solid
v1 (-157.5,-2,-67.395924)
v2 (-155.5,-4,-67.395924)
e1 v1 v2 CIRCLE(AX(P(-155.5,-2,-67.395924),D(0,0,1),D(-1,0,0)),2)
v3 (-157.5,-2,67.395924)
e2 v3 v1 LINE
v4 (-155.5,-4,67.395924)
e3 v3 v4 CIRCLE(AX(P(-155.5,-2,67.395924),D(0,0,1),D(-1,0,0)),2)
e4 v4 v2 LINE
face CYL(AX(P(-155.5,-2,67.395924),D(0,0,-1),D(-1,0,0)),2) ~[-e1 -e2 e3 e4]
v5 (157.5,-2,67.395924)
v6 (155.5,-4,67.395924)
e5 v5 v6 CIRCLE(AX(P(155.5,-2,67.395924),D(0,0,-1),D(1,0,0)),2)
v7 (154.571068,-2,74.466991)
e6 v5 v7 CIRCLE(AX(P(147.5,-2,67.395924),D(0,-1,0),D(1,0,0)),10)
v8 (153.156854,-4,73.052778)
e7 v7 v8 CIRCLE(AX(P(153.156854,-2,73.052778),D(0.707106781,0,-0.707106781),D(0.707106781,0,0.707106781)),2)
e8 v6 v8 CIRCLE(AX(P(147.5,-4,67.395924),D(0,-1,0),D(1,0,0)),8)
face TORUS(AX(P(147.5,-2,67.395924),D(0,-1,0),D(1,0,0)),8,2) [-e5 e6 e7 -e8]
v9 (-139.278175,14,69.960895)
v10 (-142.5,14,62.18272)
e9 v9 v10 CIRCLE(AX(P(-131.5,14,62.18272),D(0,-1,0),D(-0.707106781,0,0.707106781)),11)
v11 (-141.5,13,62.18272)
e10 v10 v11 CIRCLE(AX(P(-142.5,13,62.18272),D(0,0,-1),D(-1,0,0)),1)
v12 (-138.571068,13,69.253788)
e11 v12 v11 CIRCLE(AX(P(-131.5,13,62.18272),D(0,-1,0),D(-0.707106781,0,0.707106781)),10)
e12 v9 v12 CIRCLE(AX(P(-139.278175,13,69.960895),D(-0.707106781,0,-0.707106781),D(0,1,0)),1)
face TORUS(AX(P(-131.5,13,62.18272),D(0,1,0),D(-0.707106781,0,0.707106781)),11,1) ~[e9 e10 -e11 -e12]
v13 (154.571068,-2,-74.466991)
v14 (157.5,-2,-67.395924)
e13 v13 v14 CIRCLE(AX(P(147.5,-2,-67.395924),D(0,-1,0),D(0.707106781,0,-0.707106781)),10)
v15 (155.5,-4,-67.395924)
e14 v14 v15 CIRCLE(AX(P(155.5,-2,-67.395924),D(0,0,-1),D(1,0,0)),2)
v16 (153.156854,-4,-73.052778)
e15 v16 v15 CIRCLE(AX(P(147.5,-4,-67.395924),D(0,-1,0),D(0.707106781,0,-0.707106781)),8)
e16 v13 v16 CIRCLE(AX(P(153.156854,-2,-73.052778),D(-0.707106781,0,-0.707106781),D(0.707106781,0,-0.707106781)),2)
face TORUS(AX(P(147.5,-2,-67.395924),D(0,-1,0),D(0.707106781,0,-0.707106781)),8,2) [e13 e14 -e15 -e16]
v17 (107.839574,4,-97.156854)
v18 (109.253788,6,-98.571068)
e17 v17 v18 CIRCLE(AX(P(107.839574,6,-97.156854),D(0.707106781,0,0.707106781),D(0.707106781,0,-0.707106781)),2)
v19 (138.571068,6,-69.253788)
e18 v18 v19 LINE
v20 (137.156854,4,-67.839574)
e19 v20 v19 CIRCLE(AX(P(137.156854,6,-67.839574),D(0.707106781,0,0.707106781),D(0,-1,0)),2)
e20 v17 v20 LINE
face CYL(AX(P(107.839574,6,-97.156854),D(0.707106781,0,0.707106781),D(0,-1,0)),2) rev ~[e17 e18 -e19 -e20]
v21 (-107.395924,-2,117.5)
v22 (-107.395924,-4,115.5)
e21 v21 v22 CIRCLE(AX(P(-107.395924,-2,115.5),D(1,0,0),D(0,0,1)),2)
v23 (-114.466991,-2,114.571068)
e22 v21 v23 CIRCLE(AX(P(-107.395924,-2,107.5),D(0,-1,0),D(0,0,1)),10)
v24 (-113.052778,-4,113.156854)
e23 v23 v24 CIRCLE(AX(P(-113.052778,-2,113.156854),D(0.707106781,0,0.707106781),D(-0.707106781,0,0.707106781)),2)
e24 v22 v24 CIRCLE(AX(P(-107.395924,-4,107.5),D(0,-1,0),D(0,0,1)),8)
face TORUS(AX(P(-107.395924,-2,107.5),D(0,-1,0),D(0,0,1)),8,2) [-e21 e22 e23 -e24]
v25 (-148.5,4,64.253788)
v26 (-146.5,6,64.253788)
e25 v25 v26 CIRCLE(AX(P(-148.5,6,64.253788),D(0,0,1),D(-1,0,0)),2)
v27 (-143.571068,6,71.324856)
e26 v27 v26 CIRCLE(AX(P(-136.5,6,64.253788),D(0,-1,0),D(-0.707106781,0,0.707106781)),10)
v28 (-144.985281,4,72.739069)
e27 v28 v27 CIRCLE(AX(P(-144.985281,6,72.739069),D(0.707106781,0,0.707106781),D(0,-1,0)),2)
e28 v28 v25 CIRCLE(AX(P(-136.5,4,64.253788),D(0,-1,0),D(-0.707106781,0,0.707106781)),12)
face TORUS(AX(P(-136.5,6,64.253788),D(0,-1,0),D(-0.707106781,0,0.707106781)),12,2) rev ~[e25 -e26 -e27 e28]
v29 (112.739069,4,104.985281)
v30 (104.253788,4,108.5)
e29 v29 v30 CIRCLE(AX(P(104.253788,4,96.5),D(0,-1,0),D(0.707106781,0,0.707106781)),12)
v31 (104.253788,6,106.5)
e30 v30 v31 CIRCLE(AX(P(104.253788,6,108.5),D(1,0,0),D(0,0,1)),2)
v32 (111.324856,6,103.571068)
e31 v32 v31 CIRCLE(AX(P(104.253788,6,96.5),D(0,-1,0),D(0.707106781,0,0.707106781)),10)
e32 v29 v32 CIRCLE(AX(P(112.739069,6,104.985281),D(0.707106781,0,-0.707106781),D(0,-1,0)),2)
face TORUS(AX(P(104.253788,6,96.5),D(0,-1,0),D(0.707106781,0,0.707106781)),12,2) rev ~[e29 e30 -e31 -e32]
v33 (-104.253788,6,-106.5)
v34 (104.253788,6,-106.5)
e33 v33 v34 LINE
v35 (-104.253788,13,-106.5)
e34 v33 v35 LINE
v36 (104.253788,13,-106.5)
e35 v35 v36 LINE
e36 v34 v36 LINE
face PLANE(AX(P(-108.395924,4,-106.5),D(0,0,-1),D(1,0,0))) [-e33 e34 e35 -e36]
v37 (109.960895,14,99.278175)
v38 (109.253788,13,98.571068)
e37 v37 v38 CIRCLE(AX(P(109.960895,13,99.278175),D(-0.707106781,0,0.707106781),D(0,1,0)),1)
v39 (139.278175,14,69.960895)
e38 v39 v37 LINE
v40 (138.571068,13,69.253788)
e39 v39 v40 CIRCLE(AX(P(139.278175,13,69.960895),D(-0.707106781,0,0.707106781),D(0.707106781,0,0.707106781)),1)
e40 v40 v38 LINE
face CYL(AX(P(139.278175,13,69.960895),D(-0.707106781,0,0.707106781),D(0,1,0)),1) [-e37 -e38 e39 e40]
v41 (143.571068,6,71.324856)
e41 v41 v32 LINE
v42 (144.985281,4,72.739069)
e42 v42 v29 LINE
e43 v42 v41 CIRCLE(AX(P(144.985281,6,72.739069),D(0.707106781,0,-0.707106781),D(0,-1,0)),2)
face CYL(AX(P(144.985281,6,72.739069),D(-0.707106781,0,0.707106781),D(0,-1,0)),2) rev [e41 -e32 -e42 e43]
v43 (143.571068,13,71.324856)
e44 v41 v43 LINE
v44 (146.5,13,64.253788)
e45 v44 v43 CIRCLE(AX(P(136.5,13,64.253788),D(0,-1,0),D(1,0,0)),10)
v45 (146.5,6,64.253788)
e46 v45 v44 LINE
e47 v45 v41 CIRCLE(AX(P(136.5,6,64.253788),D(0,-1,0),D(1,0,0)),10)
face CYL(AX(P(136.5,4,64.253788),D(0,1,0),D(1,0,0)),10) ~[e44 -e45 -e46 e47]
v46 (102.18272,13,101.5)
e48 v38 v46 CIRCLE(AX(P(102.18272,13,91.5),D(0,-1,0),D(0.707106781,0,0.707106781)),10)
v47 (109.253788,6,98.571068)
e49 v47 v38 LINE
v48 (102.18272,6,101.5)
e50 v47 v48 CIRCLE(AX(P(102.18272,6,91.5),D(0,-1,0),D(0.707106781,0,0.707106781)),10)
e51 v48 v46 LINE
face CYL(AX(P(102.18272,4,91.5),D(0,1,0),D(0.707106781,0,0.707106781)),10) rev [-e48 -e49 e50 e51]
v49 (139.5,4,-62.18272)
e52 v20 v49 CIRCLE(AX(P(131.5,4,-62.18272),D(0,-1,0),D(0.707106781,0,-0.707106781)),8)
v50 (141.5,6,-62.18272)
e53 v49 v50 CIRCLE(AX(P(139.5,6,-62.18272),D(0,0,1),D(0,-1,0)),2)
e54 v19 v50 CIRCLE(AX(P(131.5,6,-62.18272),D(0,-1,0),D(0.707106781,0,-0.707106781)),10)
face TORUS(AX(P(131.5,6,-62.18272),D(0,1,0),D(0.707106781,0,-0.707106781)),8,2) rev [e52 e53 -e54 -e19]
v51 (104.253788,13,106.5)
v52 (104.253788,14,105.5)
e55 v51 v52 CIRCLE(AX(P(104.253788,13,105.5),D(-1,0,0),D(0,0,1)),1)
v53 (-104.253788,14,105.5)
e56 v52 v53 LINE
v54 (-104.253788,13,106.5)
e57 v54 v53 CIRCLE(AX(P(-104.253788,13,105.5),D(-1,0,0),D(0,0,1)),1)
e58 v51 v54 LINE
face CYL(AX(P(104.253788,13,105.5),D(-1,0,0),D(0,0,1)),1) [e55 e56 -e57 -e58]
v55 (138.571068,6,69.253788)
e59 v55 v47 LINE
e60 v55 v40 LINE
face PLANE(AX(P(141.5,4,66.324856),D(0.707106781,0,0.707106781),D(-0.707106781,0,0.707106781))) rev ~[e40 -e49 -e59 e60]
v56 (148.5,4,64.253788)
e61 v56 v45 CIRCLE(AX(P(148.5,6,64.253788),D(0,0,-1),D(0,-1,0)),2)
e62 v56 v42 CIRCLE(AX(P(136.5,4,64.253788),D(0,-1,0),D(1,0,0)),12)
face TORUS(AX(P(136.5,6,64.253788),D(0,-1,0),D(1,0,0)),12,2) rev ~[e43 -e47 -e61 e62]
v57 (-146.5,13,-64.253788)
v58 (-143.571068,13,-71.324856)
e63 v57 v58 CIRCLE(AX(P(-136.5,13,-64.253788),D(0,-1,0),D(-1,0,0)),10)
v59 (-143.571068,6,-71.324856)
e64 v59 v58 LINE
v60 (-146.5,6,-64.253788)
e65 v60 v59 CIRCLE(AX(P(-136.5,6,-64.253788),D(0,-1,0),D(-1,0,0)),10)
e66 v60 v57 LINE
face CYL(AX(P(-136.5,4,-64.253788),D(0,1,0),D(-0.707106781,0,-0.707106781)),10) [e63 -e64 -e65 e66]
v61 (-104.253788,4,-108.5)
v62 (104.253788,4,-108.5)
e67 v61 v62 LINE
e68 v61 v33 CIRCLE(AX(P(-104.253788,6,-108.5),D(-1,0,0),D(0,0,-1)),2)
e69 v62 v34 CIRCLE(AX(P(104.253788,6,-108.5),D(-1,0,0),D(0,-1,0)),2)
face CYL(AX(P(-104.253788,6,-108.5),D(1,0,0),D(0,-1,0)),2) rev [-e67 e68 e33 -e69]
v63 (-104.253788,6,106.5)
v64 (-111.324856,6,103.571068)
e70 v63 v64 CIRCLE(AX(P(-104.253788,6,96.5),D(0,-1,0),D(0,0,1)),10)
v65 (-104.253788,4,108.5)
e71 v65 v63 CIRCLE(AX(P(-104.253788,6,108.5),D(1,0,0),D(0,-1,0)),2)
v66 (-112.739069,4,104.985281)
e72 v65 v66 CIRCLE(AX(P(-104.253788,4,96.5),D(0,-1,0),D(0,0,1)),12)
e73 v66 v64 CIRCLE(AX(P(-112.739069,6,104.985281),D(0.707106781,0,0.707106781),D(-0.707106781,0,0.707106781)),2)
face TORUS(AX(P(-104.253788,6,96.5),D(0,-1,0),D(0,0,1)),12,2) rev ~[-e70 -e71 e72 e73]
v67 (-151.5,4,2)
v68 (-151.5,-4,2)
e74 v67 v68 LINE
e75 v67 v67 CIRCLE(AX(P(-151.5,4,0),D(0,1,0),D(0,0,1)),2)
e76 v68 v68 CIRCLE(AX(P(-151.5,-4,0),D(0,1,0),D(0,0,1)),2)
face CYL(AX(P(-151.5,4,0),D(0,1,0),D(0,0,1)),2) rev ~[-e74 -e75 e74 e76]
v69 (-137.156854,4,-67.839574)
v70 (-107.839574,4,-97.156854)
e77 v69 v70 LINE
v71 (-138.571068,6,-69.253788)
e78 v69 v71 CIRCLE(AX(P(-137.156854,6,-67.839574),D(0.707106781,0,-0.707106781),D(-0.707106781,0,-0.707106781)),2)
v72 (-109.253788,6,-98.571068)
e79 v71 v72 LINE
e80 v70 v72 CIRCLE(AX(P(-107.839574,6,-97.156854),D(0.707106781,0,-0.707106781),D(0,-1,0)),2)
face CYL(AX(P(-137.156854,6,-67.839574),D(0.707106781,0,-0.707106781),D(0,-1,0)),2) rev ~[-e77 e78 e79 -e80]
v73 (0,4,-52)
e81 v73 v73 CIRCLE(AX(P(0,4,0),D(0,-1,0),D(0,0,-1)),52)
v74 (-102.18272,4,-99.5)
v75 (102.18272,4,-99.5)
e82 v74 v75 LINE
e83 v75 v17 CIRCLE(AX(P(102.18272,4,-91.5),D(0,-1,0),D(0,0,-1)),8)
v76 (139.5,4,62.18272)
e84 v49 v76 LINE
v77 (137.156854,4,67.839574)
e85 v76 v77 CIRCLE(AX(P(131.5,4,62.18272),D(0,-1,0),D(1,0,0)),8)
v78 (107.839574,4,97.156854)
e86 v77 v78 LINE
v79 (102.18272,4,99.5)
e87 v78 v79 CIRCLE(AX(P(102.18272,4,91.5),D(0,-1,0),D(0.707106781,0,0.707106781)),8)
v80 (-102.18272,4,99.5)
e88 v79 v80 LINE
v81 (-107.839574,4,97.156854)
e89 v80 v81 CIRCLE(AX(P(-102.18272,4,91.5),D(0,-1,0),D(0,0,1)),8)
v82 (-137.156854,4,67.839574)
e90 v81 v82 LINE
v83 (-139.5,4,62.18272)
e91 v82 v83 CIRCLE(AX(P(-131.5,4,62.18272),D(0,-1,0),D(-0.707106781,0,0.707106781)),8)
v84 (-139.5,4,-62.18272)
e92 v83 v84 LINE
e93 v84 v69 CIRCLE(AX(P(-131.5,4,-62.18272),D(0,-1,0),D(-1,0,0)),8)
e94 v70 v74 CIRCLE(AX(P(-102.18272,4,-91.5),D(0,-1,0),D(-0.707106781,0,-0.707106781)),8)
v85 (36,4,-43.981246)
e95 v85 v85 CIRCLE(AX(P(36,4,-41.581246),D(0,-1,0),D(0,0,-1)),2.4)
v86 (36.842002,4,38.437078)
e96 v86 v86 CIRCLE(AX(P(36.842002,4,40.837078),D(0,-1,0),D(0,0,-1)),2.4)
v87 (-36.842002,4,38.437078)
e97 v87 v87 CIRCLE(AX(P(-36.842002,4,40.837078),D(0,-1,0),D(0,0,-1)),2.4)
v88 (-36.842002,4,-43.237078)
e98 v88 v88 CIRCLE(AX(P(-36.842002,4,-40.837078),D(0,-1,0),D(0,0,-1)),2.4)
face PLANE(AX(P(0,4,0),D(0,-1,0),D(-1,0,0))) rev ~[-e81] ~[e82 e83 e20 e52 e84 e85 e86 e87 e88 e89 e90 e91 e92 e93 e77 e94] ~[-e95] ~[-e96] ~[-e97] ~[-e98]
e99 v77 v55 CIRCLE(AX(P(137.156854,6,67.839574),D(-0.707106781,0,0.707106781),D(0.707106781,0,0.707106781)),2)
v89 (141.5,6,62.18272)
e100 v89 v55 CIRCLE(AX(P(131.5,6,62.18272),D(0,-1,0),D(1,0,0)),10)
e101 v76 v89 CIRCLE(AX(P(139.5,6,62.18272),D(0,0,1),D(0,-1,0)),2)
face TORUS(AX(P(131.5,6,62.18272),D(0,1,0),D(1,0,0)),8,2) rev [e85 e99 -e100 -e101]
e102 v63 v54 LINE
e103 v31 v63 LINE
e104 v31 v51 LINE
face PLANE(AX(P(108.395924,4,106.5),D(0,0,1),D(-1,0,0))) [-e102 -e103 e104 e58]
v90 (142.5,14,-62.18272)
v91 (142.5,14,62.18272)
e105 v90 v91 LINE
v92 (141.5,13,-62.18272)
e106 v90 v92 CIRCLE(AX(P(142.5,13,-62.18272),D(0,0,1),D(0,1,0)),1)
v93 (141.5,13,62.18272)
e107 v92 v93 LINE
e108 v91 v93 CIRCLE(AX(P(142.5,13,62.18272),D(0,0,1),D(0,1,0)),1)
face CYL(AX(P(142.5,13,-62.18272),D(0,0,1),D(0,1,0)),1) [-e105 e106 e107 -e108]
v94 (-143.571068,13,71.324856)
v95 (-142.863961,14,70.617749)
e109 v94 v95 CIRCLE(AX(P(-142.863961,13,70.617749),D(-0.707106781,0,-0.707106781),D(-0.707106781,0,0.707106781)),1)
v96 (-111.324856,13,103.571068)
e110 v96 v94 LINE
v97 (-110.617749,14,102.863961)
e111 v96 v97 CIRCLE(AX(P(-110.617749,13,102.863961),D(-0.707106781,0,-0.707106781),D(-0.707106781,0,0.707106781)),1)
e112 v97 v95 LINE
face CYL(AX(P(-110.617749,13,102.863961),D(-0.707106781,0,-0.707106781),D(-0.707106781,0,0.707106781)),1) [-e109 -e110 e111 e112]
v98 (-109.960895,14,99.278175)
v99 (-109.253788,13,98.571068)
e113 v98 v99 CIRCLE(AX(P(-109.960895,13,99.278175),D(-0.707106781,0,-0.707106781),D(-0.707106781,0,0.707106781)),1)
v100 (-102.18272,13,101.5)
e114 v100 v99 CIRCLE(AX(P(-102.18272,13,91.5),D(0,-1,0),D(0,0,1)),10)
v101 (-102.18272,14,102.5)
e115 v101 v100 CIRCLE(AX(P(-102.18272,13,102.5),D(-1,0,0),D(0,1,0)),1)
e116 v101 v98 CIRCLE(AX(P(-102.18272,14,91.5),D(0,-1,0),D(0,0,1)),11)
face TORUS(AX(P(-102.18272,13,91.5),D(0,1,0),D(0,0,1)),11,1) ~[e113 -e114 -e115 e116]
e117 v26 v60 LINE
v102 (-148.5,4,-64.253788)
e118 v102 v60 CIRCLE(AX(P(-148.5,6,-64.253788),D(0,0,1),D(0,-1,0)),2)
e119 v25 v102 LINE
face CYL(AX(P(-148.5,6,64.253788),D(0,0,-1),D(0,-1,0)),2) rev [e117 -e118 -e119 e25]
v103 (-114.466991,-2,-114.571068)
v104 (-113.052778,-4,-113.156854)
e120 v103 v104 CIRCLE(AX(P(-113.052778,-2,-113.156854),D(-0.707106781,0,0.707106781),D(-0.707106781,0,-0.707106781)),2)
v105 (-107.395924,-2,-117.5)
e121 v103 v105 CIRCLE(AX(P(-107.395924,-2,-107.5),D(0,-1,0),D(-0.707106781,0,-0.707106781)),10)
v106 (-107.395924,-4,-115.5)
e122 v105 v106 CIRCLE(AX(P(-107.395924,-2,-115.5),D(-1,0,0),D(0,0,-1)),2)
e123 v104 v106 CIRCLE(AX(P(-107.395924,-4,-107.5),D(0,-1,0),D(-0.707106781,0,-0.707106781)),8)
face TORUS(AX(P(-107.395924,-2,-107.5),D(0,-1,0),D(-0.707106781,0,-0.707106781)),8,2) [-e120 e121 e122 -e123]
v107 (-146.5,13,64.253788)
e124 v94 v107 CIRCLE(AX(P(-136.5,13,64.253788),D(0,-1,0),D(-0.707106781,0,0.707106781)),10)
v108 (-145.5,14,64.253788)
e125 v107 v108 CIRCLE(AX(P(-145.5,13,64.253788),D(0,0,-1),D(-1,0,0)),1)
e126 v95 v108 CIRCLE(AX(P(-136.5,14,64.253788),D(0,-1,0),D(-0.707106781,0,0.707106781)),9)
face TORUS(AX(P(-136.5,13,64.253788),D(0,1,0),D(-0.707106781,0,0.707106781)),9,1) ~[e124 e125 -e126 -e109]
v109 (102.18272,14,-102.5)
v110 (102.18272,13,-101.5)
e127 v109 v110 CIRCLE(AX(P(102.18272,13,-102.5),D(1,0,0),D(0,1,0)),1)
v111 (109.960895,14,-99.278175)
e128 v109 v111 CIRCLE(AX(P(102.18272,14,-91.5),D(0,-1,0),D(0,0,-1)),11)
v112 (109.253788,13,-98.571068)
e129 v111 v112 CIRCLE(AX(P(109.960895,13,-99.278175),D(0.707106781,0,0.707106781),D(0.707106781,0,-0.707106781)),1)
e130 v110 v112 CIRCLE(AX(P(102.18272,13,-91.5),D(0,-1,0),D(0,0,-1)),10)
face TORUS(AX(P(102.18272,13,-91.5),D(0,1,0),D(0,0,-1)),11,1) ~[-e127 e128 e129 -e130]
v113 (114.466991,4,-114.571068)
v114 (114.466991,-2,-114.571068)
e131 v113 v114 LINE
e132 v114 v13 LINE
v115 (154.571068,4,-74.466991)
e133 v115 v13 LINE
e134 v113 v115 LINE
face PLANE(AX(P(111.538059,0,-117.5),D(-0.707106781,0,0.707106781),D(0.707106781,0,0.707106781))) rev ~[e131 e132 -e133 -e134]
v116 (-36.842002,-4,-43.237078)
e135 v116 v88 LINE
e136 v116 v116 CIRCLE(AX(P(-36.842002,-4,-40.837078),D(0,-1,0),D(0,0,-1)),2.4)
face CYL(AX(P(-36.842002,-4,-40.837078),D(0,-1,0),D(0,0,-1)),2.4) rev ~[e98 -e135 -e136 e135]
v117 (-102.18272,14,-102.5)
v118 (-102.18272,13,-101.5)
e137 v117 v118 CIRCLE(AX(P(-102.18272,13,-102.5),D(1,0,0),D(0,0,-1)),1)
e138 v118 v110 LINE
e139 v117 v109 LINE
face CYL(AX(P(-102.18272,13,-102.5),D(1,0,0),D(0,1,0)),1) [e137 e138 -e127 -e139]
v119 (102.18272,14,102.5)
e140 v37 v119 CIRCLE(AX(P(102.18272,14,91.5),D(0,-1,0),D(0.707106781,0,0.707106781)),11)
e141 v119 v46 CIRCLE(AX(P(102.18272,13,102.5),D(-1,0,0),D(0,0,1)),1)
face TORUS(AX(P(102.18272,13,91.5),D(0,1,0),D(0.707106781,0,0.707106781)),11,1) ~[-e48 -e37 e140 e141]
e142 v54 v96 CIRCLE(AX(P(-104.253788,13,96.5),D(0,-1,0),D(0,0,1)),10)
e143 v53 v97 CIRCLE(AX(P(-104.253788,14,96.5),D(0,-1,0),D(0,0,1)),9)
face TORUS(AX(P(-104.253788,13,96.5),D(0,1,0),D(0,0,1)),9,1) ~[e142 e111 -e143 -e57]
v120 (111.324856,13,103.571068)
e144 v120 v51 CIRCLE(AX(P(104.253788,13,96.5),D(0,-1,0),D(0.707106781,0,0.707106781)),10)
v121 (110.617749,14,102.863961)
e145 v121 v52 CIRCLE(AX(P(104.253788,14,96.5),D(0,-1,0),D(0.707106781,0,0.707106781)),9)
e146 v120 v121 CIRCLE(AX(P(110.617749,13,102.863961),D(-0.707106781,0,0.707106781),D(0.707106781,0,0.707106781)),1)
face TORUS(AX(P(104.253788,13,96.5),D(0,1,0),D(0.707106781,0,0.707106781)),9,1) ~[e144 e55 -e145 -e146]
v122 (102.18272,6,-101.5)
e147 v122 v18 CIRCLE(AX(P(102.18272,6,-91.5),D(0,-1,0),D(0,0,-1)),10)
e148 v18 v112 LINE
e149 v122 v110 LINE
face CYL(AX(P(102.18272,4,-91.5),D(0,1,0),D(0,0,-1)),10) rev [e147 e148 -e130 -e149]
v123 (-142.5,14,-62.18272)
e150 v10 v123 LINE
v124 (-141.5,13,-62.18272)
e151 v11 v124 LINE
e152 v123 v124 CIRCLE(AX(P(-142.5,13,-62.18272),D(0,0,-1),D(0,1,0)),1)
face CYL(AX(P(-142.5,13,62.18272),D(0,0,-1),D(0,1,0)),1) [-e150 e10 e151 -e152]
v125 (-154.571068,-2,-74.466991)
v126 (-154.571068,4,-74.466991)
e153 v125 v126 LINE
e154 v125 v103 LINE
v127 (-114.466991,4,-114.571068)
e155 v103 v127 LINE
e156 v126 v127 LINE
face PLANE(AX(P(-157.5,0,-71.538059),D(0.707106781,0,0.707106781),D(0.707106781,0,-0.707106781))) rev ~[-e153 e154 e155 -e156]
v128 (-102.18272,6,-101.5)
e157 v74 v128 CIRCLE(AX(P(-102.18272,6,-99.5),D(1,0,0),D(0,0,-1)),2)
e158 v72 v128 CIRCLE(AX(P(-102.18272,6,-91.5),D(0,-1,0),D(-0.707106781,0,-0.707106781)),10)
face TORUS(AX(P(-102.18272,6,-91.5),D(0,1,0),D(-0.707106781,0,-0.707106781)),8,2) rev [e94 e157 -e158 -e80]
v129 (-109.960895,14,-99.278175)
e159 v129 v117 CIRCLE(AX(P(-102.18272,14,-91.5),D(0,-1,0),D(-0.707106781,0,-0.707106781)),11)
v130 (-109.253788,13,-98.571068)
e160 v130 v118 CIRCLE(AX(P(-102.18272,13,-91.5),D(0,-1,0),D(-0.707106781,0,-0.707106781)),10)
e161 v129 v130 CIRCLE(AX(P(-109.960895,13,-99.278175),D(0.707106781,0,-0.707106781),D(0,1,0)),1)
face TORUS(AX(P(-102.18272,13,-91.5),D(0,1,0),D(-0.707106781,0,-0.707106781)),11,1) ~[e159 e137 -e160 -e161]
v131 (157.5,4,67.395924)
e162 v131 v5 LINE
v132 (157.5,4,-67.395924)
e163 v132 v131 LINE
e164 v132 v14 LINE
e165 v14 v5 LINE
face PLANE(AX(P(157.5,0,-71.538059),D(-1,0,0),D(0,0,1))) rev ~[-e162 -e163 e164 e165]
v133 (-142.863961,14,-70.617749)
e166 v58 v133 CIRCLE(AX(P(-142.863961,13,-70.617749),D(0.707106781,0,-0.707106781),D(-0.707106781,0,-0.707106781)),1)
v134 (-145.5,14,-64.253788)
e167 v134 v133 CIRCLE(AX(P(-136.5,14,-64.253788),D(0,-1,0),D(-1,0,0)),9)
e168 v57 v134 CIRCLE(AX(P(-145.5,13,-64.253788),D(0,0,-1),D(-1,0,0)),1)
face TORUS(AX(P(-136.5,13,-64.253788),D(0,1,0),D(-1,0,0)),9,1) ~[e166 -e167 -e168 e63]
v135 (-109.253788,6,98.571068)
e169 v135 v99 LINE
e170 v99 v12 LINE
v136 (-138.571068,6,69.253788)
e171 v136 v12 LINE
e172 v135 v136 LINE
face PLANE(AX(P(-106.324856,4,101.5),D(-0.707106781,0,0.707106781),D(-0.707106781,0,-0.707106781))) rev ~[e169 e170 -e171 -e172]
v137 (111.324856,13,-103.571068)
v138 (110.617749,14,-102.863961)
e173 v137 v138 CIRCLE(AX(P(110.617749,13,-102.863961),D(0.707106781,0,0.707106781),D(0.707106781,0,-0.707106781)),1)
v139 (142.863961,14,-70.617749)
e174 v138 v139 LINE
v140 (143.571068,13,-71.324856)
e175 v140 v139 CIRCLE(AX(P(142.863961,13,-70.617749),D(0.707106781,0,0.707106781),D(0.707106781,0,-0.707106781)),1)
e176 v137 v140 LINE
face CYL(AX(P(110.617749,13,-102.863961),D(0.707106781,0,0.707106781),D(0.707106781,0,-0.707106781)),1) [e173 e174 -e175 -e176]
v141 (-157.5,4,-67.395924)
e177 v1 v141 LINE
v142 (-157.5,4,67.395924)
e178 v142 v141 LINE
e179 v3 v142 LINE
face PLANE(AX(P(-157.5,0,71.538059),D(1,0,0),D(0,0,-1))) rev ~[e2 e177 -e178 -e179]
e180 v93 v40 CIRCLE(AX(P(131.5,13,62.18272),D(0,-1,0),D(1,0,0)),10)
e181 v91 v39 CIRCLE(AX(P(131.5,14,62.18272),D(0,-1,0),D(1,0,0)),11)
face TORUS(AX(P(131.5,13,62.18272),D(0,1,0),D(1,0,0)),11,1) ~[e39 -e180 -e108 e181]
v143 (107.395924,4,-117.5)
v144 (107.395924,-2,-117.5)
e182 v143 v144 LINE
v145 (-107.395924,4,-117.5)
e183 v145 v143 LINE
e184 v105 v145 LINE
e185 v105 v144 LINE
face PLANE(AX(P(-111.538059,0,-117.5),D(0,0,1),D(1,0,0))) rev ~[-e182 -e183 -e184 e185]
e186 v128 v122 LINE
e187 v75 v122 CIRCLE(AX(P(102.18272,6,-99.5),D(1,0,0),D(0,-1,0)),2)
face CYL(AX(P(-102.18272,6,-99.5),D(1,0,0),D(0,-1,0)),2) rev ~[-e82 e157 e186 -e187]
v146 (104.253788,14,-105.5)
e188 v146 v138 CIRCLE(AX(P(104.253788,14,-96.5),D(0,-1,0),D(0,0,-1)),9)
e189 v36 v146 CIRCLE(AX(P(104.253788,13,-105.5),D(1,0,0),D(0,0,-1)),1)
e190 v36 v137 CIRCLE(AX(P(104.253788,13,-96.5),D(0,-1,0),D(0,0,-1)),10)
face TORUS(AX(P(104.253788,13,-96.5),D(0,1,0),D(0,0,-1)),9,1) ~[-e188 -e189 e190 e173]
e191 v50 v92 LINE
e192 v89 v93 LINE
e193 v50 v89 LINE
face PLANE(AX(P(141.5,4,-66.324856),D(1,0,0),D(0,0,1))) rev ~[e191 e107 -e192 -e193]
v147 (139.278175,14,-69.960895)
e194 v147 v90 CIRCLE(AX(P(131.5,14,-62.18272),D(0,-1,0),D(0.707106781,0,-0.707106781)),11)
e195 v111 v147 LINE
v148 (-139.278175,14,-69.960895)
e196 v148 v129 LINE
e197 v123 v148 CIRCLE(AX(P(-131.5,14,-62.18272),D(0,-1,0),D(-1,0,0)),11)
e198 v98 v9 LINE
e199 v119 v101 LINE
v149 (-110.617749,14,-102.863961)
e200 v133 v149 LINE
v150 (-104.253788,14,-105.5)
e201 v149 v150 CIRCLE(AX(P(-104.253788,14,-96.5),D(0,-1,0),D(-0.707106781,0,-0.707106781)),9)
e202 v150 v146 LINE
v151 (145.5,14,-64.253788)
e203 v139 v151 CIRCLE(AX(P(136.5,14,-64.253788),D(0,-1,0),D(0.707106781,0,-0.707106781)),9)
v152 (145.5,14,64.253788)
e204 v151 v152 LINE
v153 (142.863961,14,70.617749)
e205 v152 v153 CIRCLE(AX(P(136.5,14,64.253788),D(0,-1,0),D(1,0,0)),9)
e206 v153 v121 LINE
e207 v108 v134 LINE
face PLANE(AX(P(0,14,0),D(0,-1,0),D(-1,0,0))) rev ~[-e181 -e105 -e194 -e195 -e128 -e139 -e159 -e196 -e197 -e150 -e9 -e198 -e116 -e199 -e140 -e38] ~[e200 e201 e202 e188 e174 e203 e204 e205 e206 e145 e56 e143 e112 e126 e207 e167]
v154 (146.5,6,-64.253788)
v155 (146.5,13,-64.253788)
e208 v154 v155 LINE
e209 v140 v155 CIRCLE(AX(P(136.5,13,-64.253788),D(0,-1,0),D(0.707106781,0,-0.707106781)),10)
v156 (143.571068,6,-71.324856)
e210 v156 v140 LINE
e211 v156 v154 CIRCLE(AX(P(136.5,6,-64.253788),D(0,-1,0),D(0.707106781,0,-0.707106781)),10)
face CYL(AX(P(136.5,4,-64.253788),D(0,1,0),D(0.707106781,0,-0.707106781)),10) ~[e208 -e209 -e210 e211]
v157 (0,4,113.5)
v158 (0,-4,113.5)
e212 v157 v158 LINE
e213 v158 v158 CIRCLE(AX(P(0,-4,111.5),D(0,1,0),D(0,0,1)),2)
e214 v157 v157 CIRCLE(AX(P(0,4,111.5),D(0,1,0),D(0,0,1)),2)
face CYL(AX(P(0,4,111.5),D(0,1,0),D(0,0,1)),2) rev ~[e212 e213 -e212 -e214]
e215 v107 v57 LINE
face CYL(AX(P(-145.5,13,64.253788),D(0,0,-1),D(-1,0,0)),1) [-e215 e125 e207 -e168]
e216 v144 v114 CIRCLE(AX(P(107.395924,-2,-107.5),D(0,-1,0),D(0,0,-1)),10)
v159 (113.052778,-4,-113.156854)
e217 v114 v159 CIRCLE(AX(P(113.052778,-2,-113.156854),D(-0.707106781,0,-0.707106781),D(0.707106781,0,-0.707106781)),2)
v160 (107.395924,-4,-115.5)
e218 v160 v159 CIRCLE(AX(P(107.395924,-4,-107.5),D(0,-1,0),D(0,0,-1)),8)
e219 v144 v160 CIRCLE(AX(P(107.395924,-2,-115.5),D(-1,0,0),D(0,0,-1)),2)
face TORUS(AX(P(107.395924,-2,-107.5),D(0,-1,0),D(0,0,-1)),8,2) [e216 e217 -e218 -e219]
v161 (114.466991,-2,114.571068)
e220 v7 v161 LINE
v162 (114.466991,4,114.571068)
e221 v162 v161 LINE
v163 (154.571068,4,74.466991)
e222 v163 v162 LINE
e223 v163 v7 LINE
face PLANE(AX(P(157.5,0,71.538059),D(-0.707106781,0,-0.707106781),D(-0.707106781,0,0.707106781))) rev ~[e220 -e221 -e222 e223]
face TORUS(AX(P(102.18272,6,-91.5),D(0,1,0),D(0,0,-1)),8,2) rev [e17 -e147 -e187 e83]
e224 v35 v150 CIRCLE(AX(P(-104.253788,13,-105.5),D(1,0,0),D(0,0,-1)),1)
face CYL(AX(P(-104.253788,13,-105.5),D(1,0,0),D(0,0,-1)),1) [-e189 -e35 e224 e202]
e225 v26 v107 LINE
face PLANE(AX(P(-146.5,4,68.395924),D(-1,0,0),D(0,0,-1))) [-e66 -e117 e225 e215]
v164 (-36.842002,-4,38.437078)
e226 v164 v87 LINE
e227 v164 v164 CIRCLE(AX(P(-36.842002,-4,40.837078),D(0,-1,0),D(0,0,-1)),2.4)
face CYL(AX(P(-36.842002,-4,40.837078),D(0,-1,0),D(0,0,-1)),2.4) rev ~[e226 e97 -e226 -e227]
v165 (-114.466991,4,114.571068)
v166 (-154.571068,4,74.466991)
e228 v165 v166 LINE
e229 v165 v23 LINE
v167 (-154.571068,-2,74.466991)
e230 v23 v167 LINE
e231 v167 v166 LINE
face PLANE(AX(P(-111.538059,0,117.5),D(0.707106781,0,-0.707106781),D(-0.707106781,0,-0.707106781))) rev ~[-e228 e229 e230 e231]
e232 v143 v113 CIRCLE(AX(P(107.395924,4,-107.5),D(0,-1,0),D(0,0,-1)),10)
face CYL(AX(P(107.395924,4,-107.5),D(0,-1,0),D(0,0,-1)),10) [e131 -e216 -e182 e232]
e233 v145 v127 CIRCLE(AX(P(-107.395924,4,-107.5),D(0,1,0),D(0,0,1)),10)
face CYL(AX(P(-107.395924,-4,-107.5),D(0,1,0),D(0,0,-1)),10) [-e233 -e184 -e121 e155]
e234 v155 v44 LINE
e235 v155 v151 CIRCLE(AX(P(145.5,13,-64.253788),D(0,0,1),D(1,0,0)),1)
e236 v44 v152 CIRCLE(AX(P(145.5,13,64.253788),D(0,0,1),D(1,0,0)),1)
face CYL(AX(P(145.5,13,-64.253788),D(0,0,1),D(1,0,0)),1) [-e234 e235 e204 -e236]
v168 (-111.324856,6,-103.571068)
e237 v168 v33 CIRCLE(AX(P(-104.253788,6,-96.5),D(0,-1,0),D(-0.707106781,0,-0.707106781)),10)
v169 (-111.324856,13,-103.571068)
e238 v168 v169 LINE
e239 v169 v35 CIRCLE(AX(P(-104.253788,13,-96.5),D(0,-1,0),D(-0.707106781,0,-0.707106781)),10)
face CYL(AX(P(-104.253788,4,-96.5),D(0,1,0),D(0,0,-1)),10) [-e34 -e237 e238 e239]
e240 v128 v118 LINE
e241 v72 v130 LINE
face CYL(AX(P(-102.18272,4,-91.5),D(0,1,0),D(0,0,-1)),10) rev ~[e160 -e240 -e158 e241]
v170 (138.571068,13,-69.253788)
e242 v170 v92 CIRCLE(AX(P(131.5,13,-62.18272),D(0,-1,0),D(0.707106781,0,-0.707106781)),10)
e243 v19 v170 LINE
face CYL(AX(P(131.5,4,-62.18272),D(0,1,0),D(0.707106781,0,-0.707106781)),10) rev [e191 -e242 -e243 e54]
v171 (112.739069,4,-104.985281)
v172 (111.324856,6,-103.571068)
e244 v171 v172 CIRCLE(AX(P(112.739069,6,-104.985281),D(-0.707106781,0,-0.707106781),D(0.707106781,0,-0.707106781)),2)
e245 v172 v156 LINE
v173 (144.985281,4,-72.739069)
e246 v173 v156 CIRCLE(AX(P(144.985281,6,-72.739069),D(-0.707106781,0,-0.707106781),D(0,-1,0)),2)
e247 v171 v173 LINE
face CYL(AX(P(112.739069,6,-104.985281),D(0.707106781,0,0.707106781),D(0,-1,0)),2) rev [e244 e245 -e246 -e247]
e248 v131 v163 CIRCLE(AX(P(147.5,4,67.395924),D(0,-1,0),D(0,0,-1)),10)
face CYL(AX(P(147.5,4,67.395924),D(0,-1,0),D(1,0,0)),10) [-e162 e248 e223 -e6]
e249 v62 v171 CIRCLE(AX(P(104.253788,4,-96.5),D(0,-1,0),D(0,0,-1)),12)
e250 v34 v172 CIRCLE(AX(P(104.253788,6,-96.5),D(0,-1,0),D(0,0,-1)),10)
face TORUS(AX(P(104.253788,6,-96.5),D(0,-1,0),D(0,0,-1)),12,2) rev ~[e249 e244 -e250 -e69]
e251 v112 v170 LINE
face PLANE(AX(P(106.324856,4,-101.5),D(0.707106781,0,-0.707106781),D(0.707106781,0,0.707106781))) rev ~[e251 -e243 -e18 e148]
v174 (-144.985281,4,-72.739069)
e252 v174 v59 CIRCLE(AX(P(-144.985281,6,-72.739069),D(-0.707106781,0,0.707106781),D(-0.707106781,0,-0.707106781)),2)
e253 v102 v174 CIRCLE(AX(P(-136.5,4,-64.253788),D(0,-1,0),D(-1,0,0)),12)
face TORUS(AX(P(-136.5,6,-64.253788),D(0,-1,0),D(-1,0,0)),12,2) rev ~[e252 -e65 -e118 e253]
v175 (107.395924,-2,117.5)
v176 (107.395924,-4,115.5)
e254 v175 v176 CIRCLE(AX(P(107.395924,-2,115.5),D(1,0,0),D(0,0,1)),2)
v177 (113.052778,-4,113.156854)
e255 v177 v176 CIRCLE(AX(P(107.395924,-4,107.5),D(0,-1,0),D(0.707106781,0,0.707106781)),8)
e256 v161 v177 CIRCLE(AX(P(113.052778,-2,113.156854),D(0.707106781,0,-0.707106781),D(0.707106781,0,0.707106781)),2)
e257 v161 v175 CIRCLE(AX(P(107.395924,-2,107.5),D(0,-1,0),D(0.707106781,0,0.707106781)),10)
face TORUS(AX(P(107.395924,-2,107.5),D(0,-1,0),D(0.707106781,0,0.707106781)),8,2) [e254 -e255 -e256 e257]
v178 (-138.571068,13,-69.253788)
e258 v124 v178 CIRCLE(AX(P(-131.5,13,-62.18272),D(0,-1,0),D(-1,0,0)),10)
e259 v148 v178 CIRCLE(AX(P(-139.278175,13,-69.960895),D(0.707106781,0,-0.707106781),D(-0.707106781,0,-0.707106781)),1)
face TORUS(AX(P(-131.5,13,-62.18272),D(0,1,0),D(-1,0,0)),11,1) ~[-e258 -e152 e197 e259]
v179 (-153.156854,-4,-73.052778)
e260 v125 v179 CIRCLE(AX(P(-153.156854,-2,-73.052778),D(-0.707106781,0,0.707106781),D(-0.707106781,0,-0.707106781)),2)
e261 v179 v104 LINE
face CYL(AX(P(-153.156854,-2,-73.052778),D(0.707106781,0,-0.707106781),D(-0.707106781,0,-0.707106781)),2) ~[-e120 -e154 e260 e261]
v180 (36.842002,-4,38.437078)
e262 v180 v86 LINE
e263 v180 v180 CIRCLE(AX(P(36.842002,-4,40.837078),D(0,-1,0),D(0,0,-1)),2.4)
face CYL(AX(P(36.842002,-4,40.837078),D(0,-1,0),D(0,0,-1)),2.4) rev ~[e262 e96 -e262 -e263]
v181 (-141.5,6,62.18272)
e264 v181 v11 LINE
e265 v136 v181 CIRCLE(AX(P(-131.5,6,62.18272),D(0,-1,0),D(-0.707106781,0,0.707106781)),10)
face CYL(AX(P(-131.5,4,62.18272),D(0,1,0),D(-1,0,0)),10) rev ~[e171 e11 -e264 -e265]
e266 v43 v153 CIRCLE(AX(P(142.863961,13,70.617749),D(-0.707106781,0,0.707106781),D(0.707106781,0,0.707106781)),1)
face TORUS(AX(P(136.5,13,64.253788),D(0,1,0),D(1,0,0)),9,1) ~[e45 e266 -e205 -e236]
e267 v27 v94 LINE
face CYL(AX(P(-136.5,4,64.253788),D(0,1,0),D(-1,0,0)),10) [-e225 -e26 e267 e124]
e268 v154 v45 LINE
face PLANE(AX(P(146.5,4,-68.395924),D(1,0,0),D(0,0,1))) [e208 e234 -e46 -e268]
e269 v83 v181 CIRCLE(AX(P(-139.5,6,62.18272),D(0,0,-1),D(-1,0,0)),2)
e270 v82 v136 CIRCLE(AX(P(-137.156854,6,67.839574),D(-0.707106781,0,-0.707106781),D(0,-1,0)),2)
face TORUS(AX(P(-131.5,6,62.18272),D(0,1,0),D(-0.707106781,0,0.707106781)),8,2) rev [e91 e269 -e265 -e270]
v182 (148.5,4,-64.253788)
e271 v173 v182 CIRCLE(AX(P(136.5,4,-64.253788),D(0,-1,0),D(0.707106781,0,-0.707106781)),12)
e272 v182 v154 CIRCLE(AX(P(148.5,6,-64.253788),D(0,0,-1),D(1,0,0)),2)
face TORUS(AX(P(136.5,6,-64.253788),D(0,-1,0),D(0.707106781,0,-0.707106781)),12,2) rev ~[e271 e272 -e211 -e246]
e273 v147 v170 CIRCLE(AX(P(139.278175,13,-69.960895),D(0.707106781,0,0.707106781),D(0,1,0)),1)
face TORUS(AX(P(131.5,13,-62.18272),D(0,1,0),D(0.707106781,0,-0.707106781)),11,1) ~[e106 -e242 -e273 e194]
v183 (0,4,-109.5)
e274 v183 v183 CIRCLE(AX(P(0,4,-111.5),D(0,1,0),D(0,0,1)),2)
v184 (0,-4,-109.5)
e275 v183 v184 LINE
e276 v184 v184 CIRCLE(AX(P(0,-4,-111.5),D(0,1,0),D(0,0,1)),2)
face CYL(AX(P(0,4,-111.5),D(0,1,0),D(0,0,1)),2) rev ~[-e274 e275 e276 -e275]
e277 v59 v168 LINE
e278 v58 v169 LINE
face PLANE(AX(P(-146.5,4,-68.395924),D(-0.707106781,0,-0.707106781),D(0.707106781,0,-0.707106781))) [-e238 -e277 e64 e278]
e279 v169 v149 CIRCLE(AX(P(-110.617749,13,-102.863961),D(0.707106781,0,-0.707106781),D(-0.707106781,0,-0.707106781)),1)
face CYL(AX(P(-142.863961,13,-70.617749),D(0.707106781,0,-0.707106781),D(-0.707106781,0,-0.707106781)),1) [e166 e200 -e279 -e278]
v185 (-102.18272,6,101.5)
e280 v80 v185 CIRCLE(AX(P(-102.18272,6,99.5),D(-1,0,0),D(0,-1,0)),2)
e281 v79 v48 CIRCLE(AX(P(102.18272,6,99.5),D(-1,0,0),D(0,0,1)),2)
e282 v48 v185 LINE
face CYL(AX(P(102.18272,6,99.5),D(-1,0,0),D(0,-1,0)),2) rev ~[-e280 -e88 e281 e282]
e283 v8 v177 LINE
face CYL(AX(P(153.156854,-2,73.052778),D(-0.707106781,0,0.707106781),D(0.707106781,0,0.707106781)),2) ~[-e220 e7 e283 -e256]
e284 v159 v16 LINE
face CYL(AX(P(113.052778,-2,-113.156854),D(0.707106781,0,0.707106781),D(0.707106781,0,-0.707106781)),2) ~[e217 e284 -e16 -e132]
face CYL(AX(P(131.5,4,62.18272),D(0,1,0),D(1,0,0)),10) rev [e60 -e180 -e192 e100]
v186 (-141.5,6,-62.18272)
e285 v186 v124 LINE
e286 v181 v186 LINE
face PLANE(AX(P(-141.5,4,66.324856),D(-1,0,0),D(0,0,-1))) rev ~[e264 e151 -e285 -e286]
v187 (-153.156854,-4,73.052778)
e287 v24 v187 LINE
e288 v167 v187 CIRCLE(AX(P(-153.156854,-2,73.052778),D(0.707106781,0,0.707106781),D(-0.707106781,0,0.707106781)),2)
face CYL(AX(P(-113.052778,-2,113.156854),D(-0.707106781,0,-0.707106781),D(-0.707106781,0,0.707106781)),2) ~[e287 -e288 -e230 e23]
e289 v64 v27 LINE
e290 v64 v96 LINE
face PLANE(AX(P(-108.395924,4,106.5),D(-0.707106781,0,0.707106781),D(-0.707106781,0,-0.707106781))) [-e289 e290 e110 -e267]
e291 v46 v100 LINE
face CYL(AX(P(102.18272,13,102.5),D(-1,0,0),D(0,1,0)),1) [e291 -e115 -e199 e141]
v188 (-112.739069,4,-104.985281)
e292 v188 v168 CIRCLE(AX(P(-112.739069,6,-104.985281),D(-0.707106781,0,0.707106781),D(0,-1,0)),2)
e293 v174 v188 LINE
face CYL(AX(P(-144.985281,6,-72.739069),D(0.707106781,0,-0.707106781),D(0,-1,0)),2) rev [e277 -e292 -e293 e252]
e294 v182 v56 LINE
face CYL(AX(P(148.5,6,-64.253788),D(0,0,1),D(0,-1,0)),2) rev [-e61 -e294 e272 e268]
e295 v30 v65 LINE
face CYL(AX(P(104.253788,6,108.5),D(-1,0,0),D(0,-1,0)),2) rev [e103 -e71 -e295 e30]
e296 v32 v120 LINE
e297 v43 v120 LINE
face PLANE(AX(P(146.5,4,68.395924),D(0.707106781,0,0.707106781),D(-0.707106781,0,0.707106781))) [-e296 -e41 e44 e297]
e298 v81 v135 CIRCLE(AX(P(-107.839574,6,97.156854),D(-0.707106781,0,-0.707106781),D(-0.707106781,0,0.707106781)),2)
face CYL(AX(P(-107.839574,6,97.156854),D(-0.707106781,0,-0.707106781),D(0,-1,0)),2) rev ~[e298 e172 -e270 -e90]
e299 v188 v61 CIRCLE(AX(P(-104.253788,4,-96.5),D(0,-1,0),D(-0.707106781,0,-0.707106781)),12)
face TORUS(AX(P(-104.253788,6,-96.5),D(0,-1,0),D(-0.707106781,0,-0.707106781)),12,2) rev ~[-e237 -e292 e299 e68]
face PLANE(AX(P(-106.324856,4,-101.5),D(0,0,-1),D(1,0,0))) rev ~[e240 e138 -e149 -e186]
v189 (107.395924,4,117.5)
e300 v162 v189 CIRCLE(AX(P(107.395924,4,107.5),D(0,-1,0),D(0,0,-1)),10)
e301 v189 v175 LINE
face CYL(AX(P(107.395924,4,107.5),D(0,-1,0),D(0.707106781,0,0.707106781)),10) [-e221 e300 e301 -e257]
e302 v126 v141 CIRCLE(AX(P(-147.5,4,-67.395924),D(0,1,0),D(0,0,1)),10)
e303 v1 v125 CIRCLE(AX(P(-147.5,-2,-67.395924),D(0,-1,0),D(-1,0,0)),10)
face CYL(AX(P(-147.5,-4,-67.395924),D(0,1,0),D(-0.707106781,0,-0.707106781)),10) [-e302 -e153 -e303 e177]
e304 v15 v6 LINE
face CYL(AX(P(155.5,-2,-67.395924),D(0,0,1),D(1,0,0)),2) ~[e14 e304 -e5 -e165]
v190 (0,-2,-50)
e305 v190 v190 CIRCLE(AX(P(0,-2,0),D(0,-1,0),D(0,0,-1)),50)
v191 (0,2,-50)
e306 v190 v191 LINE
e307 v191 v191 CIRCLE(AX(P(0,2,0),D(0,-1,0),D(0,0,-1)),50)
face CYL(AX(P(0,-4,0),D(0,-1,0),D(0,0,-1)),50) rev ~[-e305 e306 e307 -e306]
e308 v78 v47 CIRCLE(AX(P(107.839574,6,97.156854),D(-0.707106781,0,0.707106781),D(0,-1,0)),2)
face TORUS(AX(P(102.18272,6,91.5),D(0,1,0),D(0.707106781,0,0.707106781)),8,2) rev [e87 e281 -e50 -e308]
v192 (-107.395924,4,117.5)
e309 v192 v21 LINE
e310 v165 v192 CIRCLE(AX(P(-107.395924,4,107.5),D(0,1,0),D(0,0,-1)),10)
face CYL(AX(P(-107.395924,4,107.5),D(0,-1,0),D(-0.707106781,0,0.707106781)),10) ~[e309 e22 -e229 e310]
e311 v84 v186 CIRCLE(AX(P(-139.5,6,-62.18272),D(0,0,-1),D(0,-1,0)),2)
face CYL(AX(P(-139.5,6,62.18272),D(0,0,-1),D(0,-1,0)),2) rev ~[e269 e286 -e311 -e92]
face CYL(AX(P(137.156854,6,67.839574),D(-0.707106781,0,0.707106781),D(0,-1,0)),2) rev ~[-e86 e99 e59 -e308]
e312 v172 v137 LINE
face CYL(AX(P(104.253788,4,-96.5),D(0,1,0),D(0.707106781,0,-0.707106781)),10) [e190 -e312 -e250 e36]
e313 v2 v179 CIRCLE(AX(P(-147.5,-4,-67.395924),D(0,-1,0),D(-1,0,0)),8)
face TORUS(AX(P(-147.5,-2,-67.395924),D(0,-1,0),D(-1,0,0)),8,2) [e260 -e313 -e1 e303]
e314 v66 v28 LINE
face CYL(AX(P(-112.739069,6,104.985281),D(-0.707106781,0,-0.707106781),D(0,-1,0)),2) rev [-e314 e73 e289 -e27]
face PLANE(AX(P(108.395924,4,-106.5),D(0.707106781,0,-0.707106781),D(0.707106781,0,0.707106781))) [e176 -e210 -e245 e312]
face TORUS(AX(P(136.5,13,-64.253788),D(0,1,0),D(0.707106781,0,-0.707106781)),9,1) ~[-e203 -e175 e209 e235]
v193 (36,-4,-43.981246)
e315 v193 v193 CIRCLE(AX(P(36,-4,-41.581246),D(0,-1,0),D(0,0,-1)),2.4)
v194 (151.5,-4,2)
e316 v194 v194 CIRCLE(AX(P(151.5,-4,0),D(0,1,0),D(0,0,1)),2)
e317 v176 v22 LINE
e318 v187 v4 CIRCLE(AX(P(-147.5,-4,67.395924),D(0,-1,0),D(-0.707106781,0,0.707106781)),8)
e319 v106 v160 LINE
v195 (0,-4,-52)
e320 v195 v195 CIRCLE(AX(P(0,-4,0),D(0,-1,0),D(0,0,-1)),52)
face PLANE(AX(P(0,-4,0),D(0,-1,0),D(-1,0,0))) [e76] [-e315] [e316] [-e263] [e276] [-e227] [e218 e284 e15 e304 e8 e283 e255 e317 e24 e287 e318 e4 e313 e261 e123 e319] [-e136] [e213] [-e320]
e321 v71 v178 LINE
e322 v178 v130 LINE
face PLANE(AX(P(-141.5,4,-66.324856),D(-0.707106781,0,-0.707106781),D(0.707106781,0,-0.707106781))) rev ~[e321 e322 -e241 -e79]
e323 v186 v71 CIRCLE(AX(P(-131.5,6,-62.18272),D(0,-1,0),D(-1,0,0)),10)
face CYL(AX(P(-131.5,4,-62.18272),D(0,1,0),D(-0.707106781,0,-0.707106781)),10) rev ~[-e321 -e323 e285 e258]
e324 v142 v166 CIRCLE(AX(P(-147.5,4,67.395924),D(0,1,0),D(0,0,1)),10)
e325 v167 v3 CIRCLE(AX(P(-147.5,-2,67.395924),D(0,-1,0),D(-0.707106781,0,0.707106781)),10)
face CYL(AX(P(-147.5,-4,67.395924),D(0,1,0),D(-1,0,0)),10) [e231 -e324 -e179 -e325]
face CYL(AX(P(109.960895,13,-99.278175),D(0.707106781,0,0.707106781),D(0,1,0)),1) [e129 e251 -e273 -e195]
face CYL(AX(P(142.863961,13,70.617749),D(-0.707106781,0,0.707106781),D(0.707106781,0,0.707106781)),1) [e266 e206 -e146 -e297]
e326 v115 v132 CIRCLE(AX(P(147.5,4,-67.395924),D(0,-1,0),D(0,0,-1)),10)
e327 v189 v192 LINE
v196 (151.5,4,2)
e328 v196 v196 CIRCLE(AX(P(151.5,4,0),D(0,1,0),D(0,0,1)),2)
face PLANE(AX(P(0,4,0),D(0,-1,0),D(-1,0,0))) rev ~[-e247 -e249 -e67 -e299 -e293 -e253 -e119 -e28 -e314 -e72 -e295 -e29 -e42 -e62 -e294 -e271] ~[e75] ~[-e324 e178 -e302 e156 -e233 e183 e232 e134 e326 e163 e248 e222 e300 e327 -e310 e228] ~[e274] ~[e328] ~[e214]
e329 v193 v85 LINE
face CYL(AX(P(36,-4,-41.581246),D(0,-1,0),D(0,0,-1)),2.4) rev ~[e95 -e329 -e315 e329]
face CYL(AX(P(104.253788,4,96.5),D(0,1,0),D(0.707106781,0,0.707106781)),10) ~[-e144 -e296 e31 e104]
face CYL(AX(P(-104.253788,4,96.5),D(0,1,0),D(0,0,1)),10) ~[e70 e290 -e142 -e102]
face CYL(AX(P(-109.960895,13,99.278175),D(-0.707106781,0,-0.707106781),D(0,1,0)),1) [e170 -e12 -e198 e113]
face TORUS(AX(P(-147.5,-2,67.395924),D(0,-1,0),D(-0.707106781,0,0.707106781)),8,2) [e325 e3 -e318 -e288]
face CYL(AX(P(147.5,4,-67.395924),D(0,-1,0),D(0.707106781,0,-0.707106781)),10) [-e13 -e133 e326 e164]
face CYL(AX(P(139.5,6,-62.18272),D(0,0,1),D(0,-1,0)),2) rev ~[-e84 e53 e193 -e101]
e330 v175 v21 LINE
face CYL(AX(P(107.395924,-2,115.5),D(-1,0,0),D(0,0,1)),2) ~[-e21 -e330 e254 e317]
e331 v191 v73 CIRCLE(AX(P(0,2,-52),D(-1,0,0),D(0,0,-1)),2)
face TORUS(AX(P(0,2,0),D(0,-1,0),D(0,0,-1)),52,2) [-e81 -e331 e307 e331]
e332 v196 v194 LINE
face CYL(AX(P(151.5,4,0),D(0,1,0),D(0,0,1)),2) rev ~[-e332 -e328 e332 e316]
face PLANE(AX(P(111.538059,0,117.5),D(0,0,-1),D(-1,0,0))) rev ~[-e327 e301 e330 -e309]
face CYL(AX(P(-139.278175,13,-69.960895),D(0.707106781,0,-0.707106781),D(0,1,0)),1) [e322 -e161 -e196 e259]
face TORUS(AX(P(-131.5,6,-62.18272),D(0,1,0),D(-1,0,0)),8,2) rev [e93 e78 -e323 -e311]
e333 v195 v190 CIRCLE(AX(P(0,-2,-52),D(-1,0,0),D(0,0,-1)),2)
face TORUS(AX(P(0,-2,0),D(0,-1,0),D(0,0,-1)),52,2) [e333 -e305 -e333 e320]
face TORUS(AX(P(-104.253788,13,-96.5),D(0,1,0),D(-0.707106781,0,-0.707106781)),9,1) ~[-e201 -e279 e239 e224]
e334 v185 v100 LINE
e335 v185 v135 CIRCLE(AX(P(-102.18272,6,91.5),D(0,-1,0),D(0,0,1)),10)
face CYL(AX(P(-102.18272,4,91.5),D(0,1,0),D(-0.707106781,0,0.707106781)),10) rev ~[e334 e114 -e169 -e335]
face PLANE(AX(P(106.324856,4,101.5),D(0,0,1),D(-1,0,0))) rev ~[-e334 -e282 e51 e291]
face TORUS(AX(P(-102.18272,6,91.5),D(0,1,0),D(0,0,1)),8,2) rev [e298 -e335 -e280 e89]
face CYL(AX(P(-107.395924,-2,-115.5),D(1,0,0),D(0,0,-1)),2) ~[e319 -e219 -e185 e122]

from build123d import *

# Parameters (mm, degrees)
BOSS_EXTRUDE1_DEPTH     = 4
BOSS_EXTRUDE2_DEPTH     = 10
SKETCH3_R               = 2
CUT_EXTRUDE1_DEPTH      = 197.7549237
CUT_EXTRUDE1_DEPTH_BACK = 197.7549237
SKETCH4_R               = 2.4
SKETCH4_R_2             = 50
CUT_EXTRUDE2_DEPTH      = 198.323338711
CUT_EXTRUDE2_DEPTH_BACK = 198.323338711
FILLET1_R               = 10
FILLET3_R               = 2
FILLET4_R               = 1
FILLET6_R               = 2
FILLET7_R               = 2


with BuildPart() as part:
    # Sketch1 → Boss-Extrude1 (new, symmetric)
    with BuildSketch(Plane(origin=(0, 0, 0), x_dir=(1, 0, 0), z_dir=(0, 1, 0))):
        Polygon((-111.538059223, 117.5), (111.538059223, 117.5), (157.5, 71.538059223), (157.5, -71.538059223), (111.538059223, -117.5), (-111.538059223, -117.5), (-157.5, -71.538059223), (-157.5, 71.538059223), align=None)
        Polygon((-108.395923599, -106.5), (108.395923599, -106.5), (146.5, -68.395923599), (146.5, 68.395923599), (108.395923599, 106.5), (-108.395923599, 106.5), (-146.5, 68.395923599), (-146.5, -68.395923599), align=None, mode=Mode.SUBTRACT)
        Polygon((-108.395923599, -106.5), (-146.5, -68.395923599), (-146.5, 68.395923599), (-108.395923599, 106.5), (108.395923599, 106.5), (146.5, 68.395923599), (146.5, -68.395923599), (108.395923599, -106.5), align=None)
    extrude(amount=BOSS_EXTRUDE1_DEPTH, both=True)

    # Sketch2 → Boss-Extrude2 (add)
    with BuildSketch(Plane(origin=(0, 4, 0), x_dir=(1, 0, 0), z_dir=(0, 1, 0))):
        Polygon((108.395923599, 106.5), (146.5, 68.395923599), (146.5, -68.395923599), (108.395923599, -106.5), (-108.395923599, -106.5), (-146.5, -68.395923599), (-146.5, 68.395923599), (-108.395923599, 106.5), align=None)
        Polygon((106.324855787, 101.5), (141.5, 66.324855787), (141.5, -66.324855787), (106.324855787, -101.5), (-106.324855787, -101.5), (-141.5, -66.324855787), (-141.5, 66.324855787), (-106.324855787, 101.5), align=None, mode=Mode.SUBTRACT)
    extrude(amount=BOSS_EXTRUDE2_DEPTH)

    # Sketch3 → Cut-Extrude1 (cut, two sides)
    with BuildSketch(Plane(origin=(0, 4, 0), x_dir=(1, 0, 0), z_dir=(0, 1, 0))) as cut_extrude1_sk:
        with Locations(Location((0, 111.5, 0), (0, 0, 270))):
            Circle(SKETCH3_R)
        with Locations(Location((0, -111.5, 0), (0, 0, 270))):
            Circle(SKETCH3_R)
        with Locations(Location((151.5, 0, 0), (0, 0, 270))):
            Circle(SKETCH3_R)
        with Locations(Location((-151.5, 0, 0), (0, 0, 270))):
            Circle(SKETCH3_R)
    extrude(amount=CUT_EXTRUDE1_DEPTH, mode=Mode.SUBTRACT)
    extrude(cut_extrude1_sk.sketch, amount=-CUT_EXTRUDE1_DEPTH_BACK, mode=Mode.SUBTRACT)

    # Sketch4 → Cut-Extrude2 (cut, two sides)
    with BuildSketch(Plane.XZ.offset(4)) as cut_extrude2_sk:
        with Locations(Location((-36.842001616, -40.837077723, 0), (0, 0, 270))):
            Circle(SKETCH4_R)
        with Locations(Location((36, -41.581245773, 0), (0, 0, 270))):
            Circle(SKETCH4_R)
        with Locations(Location((-36.842001616, 40.837077723, 0), (0, 0, 270))):
            Circle(SKETCH4_R)
        with Locations(Location((36.842001616, 40.837077723, 0), (0, 0, 270))):
            Circle(SKETCH4_R)
        with Locations(Location((0, 0, 0), (0, 0, 270))):
            Circle(SKETCH4_R_2)
    extrude(amount=CUT_EXTRUDE2_DEPTH, mode=Mode.SUBTRACT)
    extrude(cut_extrude2_sk.sketch, amount=-CUT_EXTRUDE2_DEPTH_BACK, mode=Mode.SUBTRACT)

    # Fillet1
    fillet1_edges = [part.edges().sort_by_distance(p)[0] for p in [
        (111.538059223, 0, -117.5),
        (157.5, 0, -71.538059223),
        (157.5, 0, 71.538059223),
        (111.538059223, 0, 117.5),
        (-111.538059223, 0, 117.5),
        (-157.5, 0, 71.538059223),
        (-157.5, 0, -71.538059223),
        (-111.538059223, 0, -117.5),
        (108.395923599, 9, -106.5),
        (-108.395923599, 9, -106.5),
        (-146.5, 9, -68.395923599),
        (-146.5, 9, 68.395923599),
        (-108.395923599, 9, 106.5),
        (108.395923599, 9, 106.5),
        (146.5, 9, 68.395923599),
        (146.5, 9, -68.395923599),
        (-106.324855787, 9, -101.5),
        (-141.5, 9, -66.324855787),
        (-141.5, 9, 66.324855787),
        (-106.324855787, 9, 101.5),
        (106.324855787, 9, 101.5),
        (141.5, 9, 66.324855787),
        (141.5, 9, -66.324855787),
        (106.324855787, 9, -101.5),
    ]]
    fillet(fillet1_edges, radius=FILLET1_R)

    # Fillet3
    fillet3_edges = [part.edges().sort_by_distance(p)[0] for p in [
        (141.5, 4, 0),
        (0, 4, -101.5),
        (-123.912427894, 4, -83.912427894),
        (-141.5, 4, 0),
        (-123.912427894, 4, 83.912427894),
        (0, 4, 101.5),
        (123.912427894, 4, 83.912427894),
        (123.912427894, 4, -83.912427894),
        (-140.738795325, 4, -66.009554487),
        (-106.009554487, 4, -100.738795325),
        (-106.009554487, 4, 100.738795325),
        (-140.738795325, 4, 66.009554487),
        (140.738795325, 4, 66.009554487),
        (106.009554487, 4, 100.738795325),
        (106.009554487, 4, -100.738795325),
        (140.738795325, 4, -66.009554487),
        (127.4479618, 4, 87.4479618),
        (0, 4, 106.5),
        (146.5, 4, 0),
        (127.4479618, 4, -87.4479618),
        (0, 4, -106.5),
        (-127.4479618, 4, -87.4479618),
        (-146.5, 4, 0),
        (-127.4479618, 4, 87.4479618),
        (108.080622299, 4, 105.738795325),
        (145.738795325, 4, 68.080622299),
        (145.738795325, 4, -68.080622299),
        (108.080622299, 4, -105.738795325),
        (-108.080622299, 4, -105.738795325),
        (-145.738795325, 4, -68.080622299),
        (-145.738795325, 4, 68.080622299),
        (-108.080622299, 4, 105.738795325),
    ]]
    fillet(fillet3_edges, radius=FILLET3_R)

    # Fillet4
    fillet4_edges = [part.edges().sort_by_distance(p)[0] for p in [
        (141.5, 14, 0),
        (123.912427894, 14, -83.912427894),
        (0, 14, -101.5),
        (0, 14, 101.5),
        (123.912427894, 14, 83.912427894),
        (-141.5, 14, 0),
        (-123.912427894, 14, 83.912427894),
        (-123.912427894, 14, -83.912427894),
        (127.4479618, 14, 87.4479618),
        (0, 14, 106.5),
        (0, 14, -106.5),
        (-127.4479618, 14, -87.4479618),
        (-146.5, 14, 0),
        (-127.4479618, 14, 87.4479618),
        (146.5, 14, 0),
        (127.4479618, 14, -87.4479618),
        (-108.080622299, 14, 105.738795325),
        (-145.738795325, 14, 68.080622299),
        (-145.738795325, 14, -68.080622299),
        (-108.080622299, 14, -105.738795325),
        (108.080622299, 14, -105.738795325),
        (145.738795325, 14, -68.080622299),
        (145.738795325, 14, 68.080622299),
        (108.080622299, 14, 105.738795325),
        (140.738795325, 14, -66.009554487),
        (106.009554487, 14, -100.738795325),
        (106.009554487, 14, 100.738795325),
        (140.738795325, 14, 66.009554487),
        (-140.738795325, 14, 66.009554487),
        (-106.009554487, 14, 100.738795325),
        (-106.009554487, 14, -100.738795325),
        (-140.738795325, 14, -66.009554487),
    ]]
    fillet(fillet4_edges, radius=FILLET4_R)

    # Fillet6
    fillet6_edges = [part.edges().sort_by_distance(p)[0] for p in [
        (134.519029611, -4, 94.519029611),
        (0, -4, -117.5),
        (134.519029611, -4, -94.519029611),
        (157.5, -4, 0),
        (0, -4, 117.5),
        (-134.519029611, -4, 94.519029611),
        (-157.5, -4, 0),
        (-134.519029611, -4, -94.519029611),
        (111.222757923, -4, -116.738795325),
        (156.738795325, -4, -71.222757923),
        (-111.222757923, -4, -116.738795325),
        (-156.738795325, -4, -71.222757923),
        (-156.738795325, -4, 71.222757923),
        (-111.222757923, -4, 116.738795325),
        (156.738795325, -4, 71.222757923),
        (111.222757923, -4, 116.738795325),
    ]]
    fillet(fillet6_edges, radius=FILLET6_R)

    # Fillet7
    fillet7_edges = [part.edges().sort_by_distance(p)[0] for p in [
        (0, 4, 50),
        (0, -4, 50),
    ]]
    fillet(fillet7_edges, radius=FILLET7_R)


solid = part.part
